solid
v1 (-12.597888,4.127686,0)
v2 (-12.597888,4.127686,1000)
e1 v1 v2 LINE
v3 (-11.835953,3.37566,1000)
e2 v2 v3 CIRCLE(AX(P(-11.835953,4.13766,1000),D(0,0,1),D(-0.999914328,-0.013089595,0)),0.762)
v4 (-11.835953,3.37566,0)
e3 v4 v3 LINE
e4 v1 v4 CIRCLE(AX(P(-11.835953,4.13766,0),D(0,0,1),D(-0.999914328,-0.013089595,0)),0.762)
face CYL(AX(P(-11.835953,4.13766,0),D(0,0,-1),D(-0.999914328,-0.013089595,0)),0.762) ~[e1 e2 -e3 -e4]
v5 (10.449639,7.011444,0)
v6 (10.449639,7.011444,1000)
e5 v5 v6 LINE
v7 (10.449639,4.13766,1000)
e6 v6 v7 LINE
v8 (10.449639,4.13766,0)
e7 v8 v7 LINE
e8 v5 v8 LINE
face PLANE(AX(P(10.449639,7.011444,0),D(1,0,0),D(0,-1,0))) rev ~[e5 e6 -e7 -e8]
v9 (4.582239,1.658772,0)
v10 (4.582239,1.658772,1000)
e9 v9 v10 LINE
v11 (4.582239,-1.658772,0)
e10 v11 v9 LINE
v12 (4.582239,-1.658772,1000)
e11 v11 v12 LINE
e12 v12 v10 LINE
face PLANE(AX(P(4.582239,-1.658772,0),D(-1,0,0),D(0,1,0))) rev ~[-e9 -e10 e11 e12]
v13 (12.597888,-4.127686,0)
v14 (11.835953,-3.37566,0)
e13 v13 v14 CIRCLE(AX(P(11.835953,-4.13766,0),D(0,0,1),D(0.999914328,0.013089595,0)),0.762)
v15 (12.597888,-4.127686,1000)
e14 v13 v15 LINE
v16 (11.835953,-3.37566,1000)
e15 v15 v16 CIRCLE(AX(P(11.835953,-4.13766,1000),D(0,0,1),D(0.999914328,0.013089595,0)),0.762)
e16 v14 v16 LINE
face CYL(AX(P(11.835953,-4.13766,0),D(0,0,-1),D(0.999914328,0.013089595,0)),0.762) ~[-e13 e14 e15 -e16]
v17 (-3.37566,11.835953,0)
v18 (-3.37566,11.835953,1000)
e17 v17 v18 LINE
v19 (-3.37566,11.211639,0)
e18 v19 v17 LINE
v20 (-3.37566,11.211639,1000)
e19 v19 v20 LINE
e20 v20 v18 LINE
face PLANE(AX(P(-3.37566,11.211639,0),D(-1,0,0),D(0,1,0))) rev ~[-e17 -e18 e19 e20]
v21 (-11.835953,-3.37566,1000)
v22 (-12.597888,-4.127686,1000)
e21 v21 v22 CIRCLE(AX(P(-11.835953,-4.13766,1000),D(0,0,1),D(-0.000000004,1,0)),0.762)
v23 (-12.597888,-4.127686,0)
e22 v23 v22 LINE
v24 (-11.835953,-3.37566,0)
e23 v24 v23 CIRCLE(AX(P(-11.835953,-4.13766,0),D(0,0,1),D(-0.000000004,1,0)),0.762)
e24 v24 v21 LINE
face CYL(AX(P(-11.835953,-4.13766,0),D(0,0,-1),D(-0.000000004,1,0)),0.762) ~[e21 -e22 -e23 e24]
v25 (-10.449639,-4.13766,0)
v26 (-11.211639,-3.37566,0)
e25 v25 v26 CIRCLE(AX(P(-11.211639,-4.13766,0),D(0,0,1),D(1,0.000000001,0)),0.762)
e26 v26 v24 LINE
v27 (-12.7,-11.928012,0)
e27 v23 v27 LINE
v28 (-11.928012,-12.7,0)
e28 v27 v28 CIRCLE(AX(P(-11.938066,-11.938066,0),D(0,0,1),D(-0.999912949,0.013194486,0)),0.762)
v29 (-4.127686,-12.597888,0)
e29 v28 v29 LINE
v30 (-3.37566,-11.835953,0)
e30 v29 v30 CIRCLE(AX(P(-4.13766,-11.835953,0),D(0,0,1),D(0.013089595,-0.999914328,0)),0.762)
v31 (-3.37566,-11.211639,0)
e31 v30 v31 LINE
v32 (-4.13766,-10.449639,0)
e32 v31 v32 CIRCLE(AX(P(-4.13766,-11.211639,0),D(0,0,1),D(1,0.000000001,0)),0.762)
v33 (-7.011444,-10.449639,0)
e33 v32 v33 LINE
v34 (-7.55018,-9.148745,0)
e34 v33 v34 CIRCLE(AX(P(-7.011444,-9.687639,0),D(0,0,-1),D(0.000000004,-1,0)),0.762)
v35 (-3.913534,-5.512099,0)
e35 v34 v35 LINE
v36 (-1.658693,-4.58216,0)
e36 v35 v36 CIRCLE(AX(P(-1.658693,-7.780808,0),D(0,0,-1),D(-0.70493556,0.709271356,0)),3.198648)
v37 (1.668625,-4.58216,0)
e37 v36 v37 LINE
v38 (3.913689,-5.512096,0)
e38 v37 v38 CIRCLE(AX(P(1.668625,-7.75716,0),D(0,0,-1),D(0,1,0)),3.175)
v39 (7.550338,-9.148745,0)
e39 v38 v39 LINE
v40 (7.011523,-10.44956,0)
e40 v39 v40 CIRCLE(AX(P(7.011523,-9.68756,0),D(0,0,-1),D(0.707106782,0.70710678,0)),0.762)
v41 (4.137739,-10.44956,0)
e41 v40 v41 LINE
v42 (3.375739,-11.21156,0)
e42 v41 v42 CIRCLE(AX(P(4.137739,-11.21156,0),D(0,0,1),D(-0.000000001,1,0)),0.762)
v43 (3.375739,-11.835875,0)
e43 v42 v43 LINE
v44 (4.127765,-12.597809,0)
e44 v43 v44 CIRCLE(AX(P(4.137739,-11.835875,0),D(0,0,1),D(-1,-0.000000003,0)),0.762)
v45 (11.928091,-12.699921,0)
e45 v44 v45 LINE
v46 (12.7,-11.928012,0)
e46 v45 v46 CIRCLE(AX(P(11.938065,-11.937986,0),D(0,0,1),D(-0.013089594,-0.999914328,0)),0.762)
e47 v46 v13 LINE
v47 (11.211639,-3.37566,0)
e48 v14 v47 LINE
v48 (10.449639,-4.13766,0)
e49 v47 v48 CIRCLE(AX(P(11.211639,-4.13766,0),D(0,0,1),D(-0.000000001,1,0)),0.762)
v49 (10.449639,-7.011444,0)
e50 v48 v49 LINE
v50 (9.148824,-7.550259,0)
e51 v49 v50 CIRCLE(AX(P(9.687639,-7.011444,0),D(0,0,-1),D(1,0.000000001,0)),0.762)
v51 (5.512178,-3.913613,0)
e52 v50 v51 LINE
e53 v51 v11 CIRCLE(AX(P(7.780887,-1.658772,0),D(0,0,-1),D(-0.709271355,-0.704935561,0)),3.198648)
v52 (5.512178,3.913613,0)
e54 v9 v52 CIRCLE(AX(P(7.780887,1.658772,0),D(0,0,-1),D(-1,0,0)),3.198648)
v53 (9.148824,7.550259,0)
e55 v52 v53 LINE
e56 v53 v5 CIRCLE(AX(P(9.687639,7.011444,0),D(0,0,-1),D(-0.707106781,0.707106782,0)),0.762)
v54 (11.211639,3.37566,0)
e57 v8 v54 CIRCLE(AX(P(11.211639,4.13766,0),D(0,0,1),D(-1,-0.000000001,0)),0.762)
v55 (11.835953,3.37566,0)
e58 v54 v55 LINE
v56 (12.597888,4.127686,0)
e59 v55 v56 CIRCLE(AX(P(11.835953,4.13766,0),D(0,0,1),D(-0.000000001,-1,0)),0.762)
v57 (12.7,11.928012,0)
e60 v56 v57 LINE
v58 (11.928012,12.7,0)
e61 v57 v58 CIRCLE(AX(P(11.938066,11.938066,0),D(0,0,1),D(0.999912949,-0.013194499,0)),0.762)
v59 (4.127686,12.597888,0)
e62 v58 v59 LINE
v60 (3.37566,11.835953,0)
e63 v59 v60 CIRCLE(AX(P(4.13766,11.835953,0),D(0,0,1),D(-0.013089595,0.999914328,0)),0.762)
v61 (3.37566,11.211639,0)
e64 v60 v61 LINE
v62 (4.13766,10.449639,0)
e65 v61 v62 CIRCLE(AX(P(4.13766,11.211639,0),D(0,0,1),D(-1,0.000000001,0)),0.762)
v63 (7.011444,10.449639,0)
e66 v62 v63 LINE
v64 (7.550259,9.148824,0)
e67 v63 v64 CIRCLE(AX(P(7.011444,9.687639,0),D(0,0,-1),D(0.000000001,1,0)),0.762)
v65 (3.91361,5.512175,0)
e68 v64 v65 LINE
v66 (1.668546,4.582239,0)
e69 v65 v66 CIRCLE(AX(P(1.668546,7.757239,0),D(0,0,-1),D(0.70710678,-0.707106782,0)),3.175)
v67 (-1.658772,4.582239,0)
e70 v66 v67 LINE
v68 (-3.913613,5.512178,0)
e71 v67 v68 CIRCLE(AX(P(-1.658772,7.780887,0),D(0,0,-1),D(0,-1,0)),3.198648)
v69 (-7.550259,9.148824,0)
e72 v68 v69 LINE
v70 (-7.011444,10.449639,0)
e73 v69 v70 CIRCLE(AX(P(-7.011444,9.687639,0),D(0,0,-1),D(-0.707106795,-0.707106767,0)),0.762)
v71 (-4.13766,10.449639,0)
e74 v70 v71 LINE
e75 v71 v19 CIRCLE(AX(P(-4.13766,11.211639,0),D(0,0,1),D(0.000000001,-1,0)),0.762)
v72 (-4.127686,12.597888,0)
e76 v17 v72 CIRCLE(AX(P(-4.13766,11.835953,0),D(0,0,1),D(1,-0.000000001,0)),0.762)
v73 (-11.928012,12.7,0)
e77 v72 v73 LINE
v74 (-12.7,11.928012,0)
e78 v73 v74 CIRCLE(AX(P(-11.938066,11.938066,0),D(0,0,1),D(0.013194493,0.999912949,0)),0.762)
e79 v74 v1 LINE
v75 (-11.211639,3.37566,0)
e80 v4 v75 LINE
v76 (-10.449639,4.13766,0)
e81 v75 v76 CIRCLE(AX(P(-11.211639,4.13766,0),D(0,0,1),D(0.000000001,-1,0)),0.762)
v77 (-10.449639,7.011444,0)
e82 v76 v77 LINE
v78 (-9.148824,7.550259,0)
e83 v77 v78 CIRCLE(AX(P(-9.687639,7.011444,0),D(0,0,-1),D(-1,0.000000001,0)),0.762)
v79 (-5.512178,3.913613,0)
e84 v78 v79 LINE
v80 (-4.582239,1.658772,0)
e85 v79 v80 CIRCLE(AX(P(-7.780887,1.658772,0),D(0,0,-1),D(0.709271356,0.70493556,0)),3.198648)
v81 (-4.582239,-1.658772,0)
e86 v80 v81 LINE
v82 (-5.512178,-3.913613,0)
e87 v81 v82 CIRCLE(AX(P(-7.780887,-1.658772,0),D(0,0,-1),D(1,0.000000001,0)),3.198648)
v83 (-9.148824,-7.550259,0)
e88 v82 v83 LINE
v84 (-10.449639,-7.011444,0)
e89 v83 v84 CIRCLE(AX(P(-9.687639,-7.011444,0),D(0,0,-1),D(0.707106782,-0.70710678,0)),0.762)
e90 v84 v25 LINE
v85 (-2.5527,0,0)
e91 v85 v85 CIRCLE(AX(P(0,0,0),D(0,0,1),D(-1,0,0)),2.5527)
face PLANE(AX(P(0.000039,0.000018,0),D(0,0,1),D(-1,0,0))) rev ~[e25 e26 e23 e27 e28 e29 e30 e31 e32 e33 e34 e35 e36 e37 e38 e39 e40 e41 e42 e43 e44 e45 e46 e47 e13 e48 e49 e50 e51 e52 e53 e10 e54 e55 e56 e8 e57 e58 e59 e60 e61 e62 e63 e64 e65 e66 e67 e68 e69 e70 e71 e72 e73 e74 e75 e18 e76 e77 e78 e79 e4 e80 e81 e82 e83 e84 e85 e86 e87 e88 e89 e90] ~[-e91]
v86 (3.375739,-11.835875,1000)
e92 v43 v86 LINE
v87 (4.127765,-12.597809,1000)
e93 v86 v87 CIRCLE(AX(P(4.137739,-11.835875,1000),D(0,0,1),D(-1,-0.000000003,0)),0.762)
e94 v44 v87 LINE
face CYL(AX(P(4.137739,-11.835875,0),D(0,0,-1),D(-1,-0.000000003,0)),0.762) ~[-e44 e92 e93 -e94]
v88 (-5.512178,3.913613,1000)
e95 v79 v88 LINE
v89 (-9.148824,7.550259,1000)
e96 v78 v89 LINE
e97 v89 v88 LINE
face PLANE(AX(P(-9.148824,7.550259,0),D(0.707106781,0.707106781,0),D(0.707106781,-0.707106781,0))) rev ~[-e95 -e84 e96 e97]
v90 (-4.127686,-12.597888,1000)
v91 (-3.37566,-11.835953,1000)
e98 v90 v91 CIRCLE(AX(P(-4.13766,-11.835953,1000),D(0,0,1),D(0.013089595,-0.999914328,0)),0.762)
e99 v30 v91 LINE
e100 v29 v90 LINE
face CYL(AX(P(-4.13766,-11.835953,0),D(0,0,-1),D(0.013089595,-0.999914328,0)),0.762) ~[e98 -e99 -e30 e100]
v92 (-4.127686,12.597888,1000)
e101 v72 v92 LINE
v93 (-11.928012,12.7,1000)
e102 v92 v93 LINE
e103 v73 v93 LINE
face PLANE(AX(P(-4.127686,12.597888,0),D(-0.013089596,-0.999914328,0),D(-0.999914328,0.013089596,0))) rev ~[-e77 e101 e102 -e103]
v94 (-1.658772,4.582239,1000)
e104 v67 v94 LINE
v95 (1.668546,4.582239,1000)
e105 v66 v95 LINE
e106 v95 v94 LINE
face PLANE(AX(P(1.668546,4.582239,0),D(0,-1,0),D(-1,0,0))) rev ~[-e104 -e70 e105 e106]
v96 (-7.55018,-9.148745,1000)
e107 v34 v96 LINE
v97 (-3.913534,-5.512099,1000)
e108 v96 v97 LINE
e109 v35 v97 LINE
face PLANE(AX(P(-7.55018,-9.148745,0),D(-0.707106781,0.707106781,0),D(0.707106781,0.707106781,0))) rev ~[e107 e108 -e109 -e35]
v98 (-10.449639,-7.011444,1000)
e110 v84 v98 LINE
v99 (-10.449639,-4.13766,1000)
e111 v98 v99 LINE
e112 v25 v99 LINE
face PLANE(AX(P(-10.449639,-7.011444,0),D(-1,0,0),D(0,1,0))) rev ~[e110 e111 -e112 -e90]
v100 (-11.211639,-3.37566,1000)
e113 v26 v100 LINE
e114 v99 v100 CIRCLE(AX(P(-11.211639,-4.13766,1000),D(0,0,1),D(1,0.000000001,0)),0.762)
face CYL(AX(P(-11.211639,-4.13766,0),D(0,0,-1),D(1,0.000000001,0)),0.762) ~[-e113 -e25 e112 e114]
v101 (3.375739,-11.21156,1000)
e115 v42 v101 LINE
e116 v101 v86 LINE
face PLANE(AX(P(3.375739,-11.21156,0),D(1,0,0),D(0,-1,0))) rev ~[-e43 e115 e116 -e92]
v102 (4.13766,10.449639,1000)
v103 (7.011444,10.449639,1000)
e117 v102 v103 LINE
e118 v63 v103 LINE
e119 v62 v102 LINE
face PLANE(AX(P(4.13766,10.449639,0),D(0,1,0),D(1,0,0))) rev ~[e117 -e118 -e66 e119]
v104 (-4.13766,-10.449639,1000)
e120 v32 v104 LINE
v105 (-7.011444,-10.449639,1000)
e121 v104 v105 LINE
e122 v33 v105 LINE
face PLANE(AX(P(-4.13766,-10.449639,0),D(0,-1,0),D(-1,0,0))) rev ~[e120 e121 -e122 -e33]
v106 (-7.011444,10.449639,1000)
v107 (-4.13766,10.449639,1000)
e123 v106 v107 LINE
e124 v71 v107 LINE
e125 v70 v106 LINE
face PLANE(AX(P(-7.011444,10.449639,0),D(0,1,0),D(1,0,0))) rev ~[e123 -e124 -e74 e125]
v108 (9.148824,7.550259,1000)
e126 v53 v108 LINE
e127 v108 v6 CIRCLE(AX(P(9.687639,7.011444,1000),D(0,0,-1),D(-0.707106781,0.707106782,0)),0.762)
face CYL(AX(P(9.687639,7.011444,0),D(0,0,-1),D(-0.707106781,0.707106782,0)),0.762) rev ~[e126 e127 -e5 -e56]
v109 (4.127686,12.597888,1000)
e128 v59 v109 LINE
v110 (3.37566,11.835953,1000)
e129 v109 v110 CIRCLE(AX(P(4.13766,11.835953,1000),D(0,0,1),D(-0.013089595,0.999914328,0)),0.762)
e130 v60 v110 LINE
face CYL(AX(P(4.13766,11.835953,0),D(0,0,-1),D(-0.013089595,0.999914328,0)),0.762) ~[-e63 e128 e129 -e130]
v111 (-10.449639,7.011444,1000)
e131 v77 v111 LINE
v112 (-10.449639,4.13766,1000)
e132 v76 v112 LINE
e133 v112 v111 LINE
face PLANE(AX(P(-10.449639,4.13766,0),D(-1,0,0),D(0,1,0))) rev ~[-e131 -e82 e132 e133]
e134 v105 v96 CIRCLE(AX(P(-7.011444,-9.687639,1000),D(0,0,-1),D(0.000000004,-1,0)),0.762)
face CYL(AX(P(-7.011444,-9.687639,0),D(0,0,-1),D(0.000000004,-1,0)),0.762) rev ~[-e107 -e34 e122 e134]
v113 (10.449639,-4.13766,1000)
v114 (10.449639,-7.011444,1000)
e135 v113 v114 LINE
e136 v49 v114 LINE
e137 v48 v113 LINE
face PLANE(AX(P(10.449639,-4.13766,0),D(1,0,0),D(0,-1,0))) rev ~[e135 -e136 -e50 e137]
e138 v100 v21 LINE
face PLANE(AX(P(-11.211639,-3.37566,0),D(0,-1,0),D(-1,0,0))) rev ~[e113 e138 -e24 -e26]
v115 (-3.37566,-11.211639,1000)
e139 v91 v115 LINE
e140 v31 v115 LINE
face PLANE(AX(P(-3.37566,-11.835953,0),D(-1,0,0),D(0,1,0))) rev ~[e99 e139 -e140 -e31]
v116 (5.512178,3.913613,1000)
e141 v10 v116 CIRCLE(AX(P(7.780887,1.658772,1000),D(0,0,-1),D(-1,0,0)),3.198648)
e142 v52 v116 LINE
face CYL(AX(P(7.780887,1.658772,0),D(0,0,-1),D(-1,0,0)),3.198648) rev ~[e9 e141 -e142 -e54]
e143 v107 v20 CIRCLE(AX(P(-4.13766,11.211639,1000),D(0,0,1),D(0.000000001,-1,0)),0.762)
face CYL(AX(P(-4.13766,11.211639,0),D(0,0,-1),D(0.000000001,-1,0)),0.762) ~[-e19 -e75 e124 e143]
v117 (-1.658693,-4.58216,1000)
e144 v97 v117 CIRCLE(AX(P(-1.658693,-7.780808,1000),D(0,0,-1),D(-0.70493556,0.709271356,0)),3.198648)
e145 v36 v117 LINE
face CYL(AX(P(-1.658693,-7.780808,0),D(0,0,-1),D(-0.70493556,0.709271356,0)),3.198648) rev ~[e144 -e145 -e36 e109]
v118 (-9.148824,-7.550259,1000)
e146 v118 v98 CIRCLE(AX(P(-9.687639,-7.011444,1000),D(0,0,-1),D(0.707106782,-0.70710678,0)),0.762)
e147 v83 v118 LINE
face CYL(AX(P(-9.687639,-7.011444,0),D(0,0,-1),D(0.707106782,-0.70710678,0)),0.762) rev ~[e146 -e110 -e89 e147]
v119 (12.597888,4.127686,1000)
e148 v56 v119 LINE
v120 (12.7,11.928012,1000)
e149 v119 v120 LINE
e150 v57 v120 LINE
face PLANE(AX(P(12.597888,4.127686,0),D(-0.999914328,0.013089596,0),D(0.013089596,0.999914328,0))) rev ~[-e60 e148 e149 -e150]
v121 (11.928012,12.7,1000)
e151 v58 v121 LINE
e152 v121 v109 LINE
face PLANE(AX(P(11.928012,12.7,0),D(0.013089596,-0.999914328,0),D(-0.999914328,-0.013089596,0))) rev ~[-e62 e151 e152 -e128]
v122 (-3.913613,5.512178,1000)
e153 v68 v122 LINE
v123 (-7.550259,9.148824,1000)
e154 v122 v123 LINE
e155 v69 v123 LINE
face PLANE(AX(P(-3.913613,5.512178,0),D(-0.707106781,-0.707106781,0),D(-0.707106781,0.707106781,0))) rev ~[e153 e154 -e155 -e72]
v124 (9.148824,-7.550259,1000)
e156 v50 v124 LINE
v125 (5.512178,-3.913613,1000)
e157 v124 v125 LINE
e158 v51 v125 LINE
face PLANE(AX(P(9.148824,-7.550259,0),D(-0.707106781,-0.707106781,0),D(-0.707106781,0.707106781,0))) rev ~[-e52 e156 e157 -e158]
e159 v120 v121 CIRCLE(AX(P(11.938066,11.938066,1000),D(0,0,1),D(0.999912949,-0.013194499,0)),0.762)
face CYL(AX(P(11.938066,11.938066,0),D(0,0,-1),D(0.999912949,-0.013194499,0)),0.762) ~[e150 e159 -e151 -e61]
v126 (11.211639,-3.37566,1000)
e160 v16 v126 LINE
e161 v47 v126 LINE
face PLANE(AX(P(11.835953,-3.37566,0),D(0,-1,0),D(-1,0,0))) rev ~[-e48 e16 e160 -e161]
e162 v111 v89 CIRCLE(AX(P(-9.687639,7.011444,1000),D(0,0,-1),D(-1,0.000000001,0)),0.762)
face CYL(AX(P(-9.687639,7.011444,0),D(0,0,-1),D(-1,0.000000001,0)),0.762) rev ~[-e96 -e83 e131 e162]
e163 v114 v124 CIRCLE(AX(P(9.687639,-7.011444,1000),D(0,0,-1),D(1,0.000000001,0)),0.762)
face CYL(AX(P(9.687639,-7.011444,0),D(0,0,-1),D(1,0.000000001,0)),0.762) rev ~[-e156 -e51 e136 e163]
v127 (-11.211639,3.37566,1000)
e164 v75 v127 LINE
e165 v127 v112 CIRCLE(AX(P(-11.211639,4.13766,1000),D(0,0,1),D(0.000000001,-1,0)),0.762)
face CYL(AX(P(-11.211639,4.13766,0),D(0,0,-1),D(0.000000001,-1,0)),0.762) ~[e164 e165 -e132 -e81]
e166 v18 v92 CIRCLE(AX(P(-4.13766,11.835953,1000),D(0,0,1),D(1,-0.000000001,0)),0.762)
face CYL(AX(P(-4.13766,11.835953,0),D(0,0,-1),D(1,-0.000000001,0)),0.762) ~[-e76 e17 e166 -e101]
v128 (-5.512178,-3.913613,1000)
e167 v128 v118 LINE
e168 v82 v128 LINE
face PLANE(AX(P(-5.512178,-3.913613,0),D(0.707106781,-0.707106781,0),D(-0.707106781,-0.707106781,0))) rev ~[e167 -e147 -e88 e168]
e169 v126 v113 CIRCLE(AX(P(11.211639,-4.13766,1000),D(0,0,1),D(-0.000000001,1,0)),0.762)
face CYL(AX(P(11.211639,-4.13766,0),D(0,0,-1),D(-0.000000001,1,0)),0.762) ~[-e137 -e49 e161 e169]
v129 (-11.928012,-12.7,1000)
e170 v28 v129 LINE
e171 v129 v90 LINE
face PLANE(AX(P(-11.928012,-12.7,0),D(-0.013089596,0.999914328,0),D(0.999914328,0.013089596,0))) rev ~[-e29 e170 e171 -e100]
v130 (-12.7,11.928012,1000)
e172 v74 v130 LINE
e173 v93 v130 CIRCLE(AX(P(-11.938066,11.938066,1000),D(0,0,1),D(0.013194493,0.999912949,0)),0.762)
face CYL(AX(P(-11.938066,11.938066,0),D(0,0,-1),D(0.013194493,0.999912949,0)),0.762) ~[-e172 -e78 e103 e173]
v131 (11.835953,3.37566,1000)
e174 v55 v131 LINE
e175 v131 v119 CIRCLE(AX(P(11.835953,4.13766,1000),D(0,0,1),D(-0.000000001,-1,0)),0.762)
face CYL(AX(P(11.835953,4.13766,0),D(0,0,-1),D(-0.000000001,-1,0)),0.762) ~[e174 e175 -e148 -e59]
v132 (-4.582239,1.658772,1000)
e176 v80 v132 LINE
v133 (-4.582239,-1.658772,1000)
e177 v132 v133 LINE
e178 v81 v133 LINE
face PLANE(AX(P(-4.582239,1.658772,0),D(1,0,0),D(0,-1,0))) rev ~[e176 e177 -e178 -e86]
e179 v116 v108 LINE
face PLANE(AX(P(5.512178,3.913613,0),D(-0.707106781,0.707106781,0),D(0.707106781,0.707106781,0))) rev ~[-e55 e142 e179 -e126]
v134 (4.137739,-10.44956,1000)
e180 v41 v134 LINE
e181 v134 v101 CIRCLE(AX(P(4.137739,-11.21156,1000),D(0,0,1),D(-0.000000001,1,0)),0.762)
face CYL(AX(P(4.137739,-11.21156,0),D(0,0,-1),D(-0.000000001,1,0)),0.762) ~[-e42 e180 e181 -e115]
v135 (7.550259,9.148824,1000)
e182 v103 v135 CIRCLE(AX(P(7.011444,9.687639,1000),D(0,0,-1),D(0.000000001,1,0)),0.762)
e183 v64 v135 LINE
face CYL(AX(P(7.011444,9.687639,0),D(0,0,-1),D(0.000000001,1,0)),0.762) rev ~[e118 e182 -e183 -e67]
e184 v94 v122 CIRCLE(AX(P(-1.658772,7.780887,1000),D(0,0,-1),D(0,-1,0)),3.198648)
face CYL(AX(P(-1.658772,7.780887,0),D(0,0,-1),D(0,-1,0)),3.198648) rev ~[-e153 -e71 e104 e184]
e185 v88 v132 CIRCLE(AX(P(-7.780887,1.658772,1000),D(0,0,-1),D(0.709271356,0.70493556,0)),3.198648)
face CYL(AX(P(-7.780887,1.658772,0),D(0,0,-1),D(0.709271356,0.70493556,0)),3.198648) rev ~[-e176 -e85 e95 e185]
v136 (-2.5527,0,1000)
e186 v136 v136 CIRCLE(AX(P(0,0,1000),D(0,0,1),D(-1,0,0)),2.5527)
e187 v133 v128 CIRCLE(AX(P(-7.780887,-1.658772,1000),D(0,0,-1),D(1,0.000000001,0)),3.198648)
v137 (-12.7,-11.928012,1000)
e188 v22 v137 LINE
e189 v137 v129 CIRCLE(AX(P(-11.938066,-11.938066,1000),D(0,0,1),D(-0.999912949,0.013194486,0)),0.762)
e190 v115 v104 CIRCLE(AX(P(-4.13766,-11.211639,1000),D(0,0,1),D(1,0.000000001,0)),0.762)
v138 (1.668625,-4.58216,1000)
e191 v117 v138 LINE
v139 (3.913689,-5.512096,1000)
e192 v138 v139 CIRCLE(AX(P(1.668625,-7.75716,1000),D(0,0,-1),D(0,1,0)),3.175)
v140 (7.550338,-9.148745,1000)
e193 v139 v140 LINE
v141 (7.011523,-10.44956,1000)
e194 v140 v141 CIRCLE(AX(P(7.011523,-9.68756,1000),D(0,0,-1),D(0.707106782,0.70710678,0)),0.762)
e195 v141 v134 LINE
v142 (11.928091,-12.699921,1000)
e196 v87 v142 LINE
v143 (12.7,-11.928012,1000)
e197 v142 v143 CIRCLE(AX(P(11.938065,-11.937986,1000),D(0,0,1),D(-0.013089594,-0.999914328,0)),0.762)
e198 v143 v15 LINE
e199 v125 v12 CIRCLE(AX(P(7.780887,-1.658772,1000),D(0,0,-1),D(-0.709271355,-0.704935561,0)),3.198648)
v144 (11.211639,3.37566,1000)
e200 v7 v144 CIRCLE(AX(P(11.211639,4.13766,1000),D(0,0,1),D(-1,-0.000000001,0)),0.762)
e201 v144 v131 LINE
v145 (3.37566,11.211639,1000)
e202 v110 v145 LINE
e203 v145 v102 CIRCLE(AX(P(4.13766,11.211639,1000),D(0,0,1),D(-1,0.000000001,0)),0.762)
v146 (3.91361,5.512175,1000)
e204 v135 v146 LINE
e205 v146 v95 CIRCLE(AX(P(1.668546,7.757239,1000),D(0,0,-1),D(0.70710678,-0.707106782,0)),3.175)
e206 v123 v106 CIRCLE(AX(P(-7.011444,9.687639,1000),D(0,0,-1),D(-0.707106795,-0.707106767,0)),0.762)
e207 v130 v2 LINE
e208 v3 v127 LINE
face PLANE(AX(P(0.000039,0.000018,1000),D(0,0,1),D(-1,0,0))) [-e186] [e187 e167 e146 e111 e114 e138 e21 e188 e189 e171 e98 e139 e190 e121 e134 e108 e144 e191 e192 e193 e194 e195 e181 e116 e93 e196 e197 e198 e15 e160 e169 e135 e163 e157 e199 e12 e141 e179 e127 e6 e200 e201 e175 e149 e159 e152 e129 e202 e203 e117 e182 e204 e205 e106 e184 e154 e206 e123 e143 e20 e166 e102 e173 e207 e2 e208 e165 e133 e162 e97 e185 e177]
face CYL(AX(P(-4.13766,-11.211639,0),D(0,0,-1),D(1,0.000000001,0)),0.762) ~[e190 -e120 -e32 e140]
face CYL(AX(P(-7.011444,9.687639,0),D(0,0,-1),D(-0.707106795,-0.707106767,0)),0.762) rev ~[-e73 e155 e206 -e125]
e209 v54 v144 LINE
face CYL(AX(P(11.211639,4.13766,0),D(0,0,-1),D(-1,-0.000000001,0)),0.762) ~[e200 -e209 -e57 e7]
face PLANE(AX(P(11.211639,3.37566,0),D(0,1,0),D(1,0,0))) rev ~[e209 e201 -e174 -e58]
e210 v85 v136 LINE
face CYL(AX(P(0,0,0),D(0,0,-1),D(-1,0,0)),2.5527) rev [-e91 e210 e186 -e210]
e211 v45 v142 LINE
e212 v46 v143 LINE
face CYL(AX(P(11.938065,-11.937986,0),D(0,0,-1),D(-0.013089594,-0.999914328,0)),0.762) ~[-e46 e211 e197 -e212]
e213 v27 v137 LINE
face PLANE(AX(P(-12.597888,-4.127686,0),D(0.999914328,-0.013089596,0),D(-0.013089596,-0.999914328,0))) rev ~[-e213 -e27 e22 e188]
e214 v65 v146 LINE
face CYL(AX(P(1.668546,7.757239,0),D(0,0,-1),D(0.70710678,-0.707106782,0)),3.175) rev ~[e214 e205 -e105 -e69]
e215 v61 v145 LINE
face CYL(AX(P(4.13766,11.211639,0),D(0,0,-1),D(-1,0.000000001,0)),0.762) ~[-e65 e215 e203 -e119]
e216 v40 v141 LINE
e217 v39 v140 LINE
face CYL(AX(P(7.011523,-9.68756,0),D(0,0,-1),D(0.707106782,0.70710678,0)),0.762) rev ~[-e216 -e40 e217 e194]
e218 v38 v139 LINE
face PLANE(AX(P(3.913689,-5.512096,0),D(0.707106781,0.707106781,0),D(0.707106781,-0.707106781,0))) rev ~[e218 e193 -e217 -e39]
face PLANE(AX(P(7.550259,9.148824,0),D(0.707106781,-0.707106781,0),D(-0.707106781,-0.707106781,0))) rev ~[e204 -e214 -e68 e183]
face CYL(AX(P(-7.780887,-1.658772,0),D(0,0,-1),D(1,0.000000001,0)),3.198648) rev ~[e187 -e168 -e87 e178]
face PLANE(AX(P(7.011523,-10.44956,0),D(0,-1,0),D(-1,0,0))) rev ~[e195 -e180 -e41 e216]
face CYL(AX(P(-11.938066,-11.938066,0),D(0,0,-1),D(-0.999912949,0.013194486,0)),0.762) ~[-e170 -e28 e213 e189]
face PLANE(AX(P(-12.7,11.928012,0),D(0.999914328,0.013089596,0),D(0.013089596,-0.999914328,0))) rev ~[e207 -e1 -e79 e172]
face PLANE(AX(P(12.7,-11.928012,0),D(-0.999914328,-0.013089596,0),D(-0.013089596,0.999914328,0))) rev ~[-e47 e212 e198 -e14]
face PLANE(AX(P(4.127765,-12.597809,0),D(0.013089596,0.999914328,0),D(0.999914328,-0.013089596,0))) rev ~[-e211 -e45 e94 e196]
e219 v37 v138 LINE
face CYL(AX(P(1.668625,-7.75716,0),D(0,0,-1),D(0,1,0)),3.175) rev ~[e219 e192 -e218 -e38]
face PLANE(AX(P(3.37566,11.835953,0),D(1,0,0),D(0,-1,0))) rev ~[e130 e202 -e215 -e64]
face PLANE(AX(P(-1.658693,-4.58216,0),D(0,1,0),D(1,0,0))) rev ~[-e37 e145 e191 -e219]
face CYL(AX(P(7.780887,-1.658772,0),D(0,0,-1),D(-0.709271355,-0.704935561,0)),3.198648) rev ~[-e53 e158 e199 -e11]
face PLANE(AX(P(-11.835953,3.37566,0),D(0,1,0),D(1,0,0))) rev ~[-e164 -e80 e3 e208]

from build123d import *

# Parameters (mm, degrees)
SKETCH1_R           = 2.5527
BOSS_EXTRUDE1_DEPTH = 1000


with BuildPart() as part:
    # Sketch1 → Boss-Extrude1 (new body)
    with BuildSketch(Plane(origin=(0, 0, 0), x_dir=(-1, 0, 0), z_dir=(0, 0, 1))):
        with BuildLine():
            Line((12.7, -11.928012126), (12.597888134, -4.12768572))
            ThreePointArc((12.597888134, -4.12768572), (12.37123073, -3.595329652), (11.835953416, -3.375659992))
            Line((11.835953416, -3.375659992), (11.211638876, -3.375659992))
            ThreePointArc((11.211638876, -3.375659992), (10.672823509, -3.598844625), (10.449638876, -4.137659992))
            Line((10.449638876, -4.137659992), (10.449638876, -7.011443668))
            ThreePointArc((10.449638876, -7.011443668), (9.979243652, -7.715439871), (9.148823509, -7.550259035))
            Line((9.148823509, -7.550259035), (5.512177529, -3.913613055))
            ThreePointArc((5.512177529, -3.913613055), (4.823848516, -2.878310338), (4.582238867, -1.658772178))
            Line((4.582238867, -1.658772178), (4.582238867, 1.658772182))
            ThreePointArc((4.582238867, 1.658772182), (4.823848516, 2.878310345), (5.512177531, 3.913613063))
            Line((5.512177531, 3.913613063), (9.148823511, 7.550259043))
            ThreePointArc((9.148823511, 7.550259043), (9.979243654, 7.71543988), (10.449638878, 7.011443676))
            Line((10.449638878, 7.011443676), (10.449638878, 4.13766))
            ThreePointArc((10.449638878, 4.13766), (10.672823511, 3.598844633), (11.211638878, 3.37566))
            Line((11.211638878, 3.37566), (11.835953418, 3.37566))
            ThreePointArc((11.835953418, 3.37566), (12.37123073, 3.595329661), (12.597888134, 4.127685728))
            Line((12.597888134, 4.127685728), (12.7, 11.928012134))
            ThreePointArc((12.7, 11.928012134), (12.476881698, 12.476881702), (11.928012128, 12.7))
            Line((11.928012128, 12.7), (4.127685722, 12.597888134))
            ThreePointArc((4.127685722, 12.597888134), (3.595329654, 12.37123073), (3.375659994, 11.835953416))
            Line((3.375659994, 11.835953416), (3.375659994, 11.211638876))
            ThreePointArc((3.375659994, 11.211638876), (3.598844627, 10.672823509), (4.137659994, 10.449638876))
            Line((4.137659994, 10.449638876), (7.01144367, 10.449638876))
            ThreePointArc((7.01144367, 10.449638876), (7.715461217, 9.979192126), (7.550180161, 9.148744642))
            Line((7.550180161, 9.148744642), (3.913534181, 5.512098662))
            ThreePointArc((3.913534181, 5.512098662), (2.878231464, 4.823769649), (1.658693304, 4.58216))
            Line((1.658693304, 4.58216), (-1.668625226, 4.58216))
            ThreePointArc((-1.668625226, 4.58216), (-2.883645124, 4.823842484), (-3.913689257, 5.51209597))
            Line((-3.913689257, 5.51209597), (-7.55033792, 9.148744633))
            ThreePointArc((-7.55033792, 9.148744633), (-7.715518756, 9.979164775), (-7.011522552, 10.44956))
            Line((-7.011522552, 10.44956), (-4.137738876, 10.44956))
            ThreePointArc((-4.137738876, 10.44956), (-3.598923509, 10.672744633), (-3.375738876, 11.21156))
            Line((-3.375738876, 11.21156), (-3.375738876, 11.83587454))
            ThreePointArc((-3.375738876, 11.83587454), (-3.595408537, 12.371151853), (-4.127764605, 12.597809257))
            Line((-4.127764605, 12.597809257), (-11.928091011, 12.699921124))
            ThreePointArc((-11.928091011, 12.699921124), (-12.47688065, 12.476801773), (-12.7, 11.928012134))
            Line((-12.7, 11.928012134), (-12.597888134, 4.127685728))
            ThreePointArc((-12.597888134, 4.127685728), (-12.37123073, 3.59532966), (-11.835953416, 3.37566))
            Line((-11.835953416, 3.37566), (-11.211638876, 3.37566))
            ThreePointArc((-11.211638876, 3.37566), (-10.672823509, 3.598844633), (-10.449638876, 4.13766))
            Line((-10.449638876, 4.13766), (-10.449638876, 7.011443676))
            ThreePointArc((-10.449638876, 7.011443676), (-9.979243652, 7.71543988), (-9.148823509, 7.550259043))
            Line((-9.148823509, 7.550259043), (-5.512177529, 3.913613063))
            ThreePointArc((-5.512177529, 3.913613063), (-4.823848515, 2.878310347), (-4.582238866, 1.658772187))
            Line((-4.582238866, 1.658772187), (-4.582238866, -1.658772174))
            ThreePointArc((-4.582238866, -1.658772174), (-4.823848515, -2.878310336), (-5.512177529, -3.913613055))
            Line((-5.512177529, -3.913613055), (-9.148823509, -7.550259035))
            ThreePointArc((-9.148823509, -7.550259035), (-9.979243652, -7.715439871), (-10.449638876, -7.011443668))
            Line((-10.449638876, -7.011443668), (-10.449638876, -4.137659992))
            ThreePointArc((-10.449638876, -4.137659992), (-10.672823509, -3.598844625), (-11.211638876, -3.375659992))
            Line((-11.211638876, -3.375659992), (-11.835953416, -3.375659992))
            ThreePointArc((-11.835953416, -3.375659992), (-12.37123073, -3.595329652), (-12.597888134, -4.12768572))
            Line((-12.597888134, -4.12768572), (-12.7, -11.928012126))
            ThreePointArc((-12.7, -11.928012126), (-12.476881704, -12.476881697), (-11.928012136, -12.7))
            Line((-11.928012136, -12.7), (-4.12768573, -12.597888134))
            ThreePointArc((-4.12768573, -12.597888134), (-3.595329662, -12.37123073), (-3.375660002, -11.835953416))
            Line((-3.375660002, -11.835953416), (-3.375660002, -11.211638876))
            ThreePointArc((-3.375660002, -11.211638876), (-3.598844634, -10.672823509), (-4.137660002, -10.449638876))
            Line((-4.137660002, -10.449638876), (-7.011443678, -10.449638876))
            ThreePointArc((-7.011443678, -10.449638876), (-7.715439881, -9.979243652), (-7.550259045, -9.148823509))
            Line((-7.550259045, -9.148823509), (-3.913610382, -5.512174846))
            ThreePointArc((-3.913610382, -5.512174846), (-2.883566249, -4.823921361), (-1.668546352, -4.582238876))
            Line((-1.668546352, -4.582238876), (1.658772179, -4.582238876))
            ThreePointArc((1.658772179, -4.582238876), (2.878310341, -4.823848525), (3.913613059, -5.51217754))
            Line((3.913613059, -5.51217754), (7.550259039, -9.14882352))
            ThreePointArc((7.550259039, -9.14882352), (7.715439864, -9.979243654), (7.011443672, -10.449638876))
            Line((7.011443672, -10.449638876), (4.137659996, -10.449638876))
            ThreePointArc((4.137659996, -10.449638876), (3.598844629, -10.672823509), (3.375659996, -11.211638876))
            Line((3.375659996, -11.211638876), (3.375659996, -11.835953416))
            ThreePointArc((3.375659996, -11.835953416), (3.595329656, -12.37123073), (4.127685724, -12.597888134))
            Line((4.127685724, -12.597888134), (11.92801213, -12.7))
            ThreePointArc((11.92801213, -12.7), (12.476881702, -12.476881699), (12.7, -11.928012126))
        make_face()
        Circle(SKETCH1_R, mode=Mode.SUBTRACT)
    extrude(amount=BOSS_EXTRUDE1_DEPTH)


solid = part.part
